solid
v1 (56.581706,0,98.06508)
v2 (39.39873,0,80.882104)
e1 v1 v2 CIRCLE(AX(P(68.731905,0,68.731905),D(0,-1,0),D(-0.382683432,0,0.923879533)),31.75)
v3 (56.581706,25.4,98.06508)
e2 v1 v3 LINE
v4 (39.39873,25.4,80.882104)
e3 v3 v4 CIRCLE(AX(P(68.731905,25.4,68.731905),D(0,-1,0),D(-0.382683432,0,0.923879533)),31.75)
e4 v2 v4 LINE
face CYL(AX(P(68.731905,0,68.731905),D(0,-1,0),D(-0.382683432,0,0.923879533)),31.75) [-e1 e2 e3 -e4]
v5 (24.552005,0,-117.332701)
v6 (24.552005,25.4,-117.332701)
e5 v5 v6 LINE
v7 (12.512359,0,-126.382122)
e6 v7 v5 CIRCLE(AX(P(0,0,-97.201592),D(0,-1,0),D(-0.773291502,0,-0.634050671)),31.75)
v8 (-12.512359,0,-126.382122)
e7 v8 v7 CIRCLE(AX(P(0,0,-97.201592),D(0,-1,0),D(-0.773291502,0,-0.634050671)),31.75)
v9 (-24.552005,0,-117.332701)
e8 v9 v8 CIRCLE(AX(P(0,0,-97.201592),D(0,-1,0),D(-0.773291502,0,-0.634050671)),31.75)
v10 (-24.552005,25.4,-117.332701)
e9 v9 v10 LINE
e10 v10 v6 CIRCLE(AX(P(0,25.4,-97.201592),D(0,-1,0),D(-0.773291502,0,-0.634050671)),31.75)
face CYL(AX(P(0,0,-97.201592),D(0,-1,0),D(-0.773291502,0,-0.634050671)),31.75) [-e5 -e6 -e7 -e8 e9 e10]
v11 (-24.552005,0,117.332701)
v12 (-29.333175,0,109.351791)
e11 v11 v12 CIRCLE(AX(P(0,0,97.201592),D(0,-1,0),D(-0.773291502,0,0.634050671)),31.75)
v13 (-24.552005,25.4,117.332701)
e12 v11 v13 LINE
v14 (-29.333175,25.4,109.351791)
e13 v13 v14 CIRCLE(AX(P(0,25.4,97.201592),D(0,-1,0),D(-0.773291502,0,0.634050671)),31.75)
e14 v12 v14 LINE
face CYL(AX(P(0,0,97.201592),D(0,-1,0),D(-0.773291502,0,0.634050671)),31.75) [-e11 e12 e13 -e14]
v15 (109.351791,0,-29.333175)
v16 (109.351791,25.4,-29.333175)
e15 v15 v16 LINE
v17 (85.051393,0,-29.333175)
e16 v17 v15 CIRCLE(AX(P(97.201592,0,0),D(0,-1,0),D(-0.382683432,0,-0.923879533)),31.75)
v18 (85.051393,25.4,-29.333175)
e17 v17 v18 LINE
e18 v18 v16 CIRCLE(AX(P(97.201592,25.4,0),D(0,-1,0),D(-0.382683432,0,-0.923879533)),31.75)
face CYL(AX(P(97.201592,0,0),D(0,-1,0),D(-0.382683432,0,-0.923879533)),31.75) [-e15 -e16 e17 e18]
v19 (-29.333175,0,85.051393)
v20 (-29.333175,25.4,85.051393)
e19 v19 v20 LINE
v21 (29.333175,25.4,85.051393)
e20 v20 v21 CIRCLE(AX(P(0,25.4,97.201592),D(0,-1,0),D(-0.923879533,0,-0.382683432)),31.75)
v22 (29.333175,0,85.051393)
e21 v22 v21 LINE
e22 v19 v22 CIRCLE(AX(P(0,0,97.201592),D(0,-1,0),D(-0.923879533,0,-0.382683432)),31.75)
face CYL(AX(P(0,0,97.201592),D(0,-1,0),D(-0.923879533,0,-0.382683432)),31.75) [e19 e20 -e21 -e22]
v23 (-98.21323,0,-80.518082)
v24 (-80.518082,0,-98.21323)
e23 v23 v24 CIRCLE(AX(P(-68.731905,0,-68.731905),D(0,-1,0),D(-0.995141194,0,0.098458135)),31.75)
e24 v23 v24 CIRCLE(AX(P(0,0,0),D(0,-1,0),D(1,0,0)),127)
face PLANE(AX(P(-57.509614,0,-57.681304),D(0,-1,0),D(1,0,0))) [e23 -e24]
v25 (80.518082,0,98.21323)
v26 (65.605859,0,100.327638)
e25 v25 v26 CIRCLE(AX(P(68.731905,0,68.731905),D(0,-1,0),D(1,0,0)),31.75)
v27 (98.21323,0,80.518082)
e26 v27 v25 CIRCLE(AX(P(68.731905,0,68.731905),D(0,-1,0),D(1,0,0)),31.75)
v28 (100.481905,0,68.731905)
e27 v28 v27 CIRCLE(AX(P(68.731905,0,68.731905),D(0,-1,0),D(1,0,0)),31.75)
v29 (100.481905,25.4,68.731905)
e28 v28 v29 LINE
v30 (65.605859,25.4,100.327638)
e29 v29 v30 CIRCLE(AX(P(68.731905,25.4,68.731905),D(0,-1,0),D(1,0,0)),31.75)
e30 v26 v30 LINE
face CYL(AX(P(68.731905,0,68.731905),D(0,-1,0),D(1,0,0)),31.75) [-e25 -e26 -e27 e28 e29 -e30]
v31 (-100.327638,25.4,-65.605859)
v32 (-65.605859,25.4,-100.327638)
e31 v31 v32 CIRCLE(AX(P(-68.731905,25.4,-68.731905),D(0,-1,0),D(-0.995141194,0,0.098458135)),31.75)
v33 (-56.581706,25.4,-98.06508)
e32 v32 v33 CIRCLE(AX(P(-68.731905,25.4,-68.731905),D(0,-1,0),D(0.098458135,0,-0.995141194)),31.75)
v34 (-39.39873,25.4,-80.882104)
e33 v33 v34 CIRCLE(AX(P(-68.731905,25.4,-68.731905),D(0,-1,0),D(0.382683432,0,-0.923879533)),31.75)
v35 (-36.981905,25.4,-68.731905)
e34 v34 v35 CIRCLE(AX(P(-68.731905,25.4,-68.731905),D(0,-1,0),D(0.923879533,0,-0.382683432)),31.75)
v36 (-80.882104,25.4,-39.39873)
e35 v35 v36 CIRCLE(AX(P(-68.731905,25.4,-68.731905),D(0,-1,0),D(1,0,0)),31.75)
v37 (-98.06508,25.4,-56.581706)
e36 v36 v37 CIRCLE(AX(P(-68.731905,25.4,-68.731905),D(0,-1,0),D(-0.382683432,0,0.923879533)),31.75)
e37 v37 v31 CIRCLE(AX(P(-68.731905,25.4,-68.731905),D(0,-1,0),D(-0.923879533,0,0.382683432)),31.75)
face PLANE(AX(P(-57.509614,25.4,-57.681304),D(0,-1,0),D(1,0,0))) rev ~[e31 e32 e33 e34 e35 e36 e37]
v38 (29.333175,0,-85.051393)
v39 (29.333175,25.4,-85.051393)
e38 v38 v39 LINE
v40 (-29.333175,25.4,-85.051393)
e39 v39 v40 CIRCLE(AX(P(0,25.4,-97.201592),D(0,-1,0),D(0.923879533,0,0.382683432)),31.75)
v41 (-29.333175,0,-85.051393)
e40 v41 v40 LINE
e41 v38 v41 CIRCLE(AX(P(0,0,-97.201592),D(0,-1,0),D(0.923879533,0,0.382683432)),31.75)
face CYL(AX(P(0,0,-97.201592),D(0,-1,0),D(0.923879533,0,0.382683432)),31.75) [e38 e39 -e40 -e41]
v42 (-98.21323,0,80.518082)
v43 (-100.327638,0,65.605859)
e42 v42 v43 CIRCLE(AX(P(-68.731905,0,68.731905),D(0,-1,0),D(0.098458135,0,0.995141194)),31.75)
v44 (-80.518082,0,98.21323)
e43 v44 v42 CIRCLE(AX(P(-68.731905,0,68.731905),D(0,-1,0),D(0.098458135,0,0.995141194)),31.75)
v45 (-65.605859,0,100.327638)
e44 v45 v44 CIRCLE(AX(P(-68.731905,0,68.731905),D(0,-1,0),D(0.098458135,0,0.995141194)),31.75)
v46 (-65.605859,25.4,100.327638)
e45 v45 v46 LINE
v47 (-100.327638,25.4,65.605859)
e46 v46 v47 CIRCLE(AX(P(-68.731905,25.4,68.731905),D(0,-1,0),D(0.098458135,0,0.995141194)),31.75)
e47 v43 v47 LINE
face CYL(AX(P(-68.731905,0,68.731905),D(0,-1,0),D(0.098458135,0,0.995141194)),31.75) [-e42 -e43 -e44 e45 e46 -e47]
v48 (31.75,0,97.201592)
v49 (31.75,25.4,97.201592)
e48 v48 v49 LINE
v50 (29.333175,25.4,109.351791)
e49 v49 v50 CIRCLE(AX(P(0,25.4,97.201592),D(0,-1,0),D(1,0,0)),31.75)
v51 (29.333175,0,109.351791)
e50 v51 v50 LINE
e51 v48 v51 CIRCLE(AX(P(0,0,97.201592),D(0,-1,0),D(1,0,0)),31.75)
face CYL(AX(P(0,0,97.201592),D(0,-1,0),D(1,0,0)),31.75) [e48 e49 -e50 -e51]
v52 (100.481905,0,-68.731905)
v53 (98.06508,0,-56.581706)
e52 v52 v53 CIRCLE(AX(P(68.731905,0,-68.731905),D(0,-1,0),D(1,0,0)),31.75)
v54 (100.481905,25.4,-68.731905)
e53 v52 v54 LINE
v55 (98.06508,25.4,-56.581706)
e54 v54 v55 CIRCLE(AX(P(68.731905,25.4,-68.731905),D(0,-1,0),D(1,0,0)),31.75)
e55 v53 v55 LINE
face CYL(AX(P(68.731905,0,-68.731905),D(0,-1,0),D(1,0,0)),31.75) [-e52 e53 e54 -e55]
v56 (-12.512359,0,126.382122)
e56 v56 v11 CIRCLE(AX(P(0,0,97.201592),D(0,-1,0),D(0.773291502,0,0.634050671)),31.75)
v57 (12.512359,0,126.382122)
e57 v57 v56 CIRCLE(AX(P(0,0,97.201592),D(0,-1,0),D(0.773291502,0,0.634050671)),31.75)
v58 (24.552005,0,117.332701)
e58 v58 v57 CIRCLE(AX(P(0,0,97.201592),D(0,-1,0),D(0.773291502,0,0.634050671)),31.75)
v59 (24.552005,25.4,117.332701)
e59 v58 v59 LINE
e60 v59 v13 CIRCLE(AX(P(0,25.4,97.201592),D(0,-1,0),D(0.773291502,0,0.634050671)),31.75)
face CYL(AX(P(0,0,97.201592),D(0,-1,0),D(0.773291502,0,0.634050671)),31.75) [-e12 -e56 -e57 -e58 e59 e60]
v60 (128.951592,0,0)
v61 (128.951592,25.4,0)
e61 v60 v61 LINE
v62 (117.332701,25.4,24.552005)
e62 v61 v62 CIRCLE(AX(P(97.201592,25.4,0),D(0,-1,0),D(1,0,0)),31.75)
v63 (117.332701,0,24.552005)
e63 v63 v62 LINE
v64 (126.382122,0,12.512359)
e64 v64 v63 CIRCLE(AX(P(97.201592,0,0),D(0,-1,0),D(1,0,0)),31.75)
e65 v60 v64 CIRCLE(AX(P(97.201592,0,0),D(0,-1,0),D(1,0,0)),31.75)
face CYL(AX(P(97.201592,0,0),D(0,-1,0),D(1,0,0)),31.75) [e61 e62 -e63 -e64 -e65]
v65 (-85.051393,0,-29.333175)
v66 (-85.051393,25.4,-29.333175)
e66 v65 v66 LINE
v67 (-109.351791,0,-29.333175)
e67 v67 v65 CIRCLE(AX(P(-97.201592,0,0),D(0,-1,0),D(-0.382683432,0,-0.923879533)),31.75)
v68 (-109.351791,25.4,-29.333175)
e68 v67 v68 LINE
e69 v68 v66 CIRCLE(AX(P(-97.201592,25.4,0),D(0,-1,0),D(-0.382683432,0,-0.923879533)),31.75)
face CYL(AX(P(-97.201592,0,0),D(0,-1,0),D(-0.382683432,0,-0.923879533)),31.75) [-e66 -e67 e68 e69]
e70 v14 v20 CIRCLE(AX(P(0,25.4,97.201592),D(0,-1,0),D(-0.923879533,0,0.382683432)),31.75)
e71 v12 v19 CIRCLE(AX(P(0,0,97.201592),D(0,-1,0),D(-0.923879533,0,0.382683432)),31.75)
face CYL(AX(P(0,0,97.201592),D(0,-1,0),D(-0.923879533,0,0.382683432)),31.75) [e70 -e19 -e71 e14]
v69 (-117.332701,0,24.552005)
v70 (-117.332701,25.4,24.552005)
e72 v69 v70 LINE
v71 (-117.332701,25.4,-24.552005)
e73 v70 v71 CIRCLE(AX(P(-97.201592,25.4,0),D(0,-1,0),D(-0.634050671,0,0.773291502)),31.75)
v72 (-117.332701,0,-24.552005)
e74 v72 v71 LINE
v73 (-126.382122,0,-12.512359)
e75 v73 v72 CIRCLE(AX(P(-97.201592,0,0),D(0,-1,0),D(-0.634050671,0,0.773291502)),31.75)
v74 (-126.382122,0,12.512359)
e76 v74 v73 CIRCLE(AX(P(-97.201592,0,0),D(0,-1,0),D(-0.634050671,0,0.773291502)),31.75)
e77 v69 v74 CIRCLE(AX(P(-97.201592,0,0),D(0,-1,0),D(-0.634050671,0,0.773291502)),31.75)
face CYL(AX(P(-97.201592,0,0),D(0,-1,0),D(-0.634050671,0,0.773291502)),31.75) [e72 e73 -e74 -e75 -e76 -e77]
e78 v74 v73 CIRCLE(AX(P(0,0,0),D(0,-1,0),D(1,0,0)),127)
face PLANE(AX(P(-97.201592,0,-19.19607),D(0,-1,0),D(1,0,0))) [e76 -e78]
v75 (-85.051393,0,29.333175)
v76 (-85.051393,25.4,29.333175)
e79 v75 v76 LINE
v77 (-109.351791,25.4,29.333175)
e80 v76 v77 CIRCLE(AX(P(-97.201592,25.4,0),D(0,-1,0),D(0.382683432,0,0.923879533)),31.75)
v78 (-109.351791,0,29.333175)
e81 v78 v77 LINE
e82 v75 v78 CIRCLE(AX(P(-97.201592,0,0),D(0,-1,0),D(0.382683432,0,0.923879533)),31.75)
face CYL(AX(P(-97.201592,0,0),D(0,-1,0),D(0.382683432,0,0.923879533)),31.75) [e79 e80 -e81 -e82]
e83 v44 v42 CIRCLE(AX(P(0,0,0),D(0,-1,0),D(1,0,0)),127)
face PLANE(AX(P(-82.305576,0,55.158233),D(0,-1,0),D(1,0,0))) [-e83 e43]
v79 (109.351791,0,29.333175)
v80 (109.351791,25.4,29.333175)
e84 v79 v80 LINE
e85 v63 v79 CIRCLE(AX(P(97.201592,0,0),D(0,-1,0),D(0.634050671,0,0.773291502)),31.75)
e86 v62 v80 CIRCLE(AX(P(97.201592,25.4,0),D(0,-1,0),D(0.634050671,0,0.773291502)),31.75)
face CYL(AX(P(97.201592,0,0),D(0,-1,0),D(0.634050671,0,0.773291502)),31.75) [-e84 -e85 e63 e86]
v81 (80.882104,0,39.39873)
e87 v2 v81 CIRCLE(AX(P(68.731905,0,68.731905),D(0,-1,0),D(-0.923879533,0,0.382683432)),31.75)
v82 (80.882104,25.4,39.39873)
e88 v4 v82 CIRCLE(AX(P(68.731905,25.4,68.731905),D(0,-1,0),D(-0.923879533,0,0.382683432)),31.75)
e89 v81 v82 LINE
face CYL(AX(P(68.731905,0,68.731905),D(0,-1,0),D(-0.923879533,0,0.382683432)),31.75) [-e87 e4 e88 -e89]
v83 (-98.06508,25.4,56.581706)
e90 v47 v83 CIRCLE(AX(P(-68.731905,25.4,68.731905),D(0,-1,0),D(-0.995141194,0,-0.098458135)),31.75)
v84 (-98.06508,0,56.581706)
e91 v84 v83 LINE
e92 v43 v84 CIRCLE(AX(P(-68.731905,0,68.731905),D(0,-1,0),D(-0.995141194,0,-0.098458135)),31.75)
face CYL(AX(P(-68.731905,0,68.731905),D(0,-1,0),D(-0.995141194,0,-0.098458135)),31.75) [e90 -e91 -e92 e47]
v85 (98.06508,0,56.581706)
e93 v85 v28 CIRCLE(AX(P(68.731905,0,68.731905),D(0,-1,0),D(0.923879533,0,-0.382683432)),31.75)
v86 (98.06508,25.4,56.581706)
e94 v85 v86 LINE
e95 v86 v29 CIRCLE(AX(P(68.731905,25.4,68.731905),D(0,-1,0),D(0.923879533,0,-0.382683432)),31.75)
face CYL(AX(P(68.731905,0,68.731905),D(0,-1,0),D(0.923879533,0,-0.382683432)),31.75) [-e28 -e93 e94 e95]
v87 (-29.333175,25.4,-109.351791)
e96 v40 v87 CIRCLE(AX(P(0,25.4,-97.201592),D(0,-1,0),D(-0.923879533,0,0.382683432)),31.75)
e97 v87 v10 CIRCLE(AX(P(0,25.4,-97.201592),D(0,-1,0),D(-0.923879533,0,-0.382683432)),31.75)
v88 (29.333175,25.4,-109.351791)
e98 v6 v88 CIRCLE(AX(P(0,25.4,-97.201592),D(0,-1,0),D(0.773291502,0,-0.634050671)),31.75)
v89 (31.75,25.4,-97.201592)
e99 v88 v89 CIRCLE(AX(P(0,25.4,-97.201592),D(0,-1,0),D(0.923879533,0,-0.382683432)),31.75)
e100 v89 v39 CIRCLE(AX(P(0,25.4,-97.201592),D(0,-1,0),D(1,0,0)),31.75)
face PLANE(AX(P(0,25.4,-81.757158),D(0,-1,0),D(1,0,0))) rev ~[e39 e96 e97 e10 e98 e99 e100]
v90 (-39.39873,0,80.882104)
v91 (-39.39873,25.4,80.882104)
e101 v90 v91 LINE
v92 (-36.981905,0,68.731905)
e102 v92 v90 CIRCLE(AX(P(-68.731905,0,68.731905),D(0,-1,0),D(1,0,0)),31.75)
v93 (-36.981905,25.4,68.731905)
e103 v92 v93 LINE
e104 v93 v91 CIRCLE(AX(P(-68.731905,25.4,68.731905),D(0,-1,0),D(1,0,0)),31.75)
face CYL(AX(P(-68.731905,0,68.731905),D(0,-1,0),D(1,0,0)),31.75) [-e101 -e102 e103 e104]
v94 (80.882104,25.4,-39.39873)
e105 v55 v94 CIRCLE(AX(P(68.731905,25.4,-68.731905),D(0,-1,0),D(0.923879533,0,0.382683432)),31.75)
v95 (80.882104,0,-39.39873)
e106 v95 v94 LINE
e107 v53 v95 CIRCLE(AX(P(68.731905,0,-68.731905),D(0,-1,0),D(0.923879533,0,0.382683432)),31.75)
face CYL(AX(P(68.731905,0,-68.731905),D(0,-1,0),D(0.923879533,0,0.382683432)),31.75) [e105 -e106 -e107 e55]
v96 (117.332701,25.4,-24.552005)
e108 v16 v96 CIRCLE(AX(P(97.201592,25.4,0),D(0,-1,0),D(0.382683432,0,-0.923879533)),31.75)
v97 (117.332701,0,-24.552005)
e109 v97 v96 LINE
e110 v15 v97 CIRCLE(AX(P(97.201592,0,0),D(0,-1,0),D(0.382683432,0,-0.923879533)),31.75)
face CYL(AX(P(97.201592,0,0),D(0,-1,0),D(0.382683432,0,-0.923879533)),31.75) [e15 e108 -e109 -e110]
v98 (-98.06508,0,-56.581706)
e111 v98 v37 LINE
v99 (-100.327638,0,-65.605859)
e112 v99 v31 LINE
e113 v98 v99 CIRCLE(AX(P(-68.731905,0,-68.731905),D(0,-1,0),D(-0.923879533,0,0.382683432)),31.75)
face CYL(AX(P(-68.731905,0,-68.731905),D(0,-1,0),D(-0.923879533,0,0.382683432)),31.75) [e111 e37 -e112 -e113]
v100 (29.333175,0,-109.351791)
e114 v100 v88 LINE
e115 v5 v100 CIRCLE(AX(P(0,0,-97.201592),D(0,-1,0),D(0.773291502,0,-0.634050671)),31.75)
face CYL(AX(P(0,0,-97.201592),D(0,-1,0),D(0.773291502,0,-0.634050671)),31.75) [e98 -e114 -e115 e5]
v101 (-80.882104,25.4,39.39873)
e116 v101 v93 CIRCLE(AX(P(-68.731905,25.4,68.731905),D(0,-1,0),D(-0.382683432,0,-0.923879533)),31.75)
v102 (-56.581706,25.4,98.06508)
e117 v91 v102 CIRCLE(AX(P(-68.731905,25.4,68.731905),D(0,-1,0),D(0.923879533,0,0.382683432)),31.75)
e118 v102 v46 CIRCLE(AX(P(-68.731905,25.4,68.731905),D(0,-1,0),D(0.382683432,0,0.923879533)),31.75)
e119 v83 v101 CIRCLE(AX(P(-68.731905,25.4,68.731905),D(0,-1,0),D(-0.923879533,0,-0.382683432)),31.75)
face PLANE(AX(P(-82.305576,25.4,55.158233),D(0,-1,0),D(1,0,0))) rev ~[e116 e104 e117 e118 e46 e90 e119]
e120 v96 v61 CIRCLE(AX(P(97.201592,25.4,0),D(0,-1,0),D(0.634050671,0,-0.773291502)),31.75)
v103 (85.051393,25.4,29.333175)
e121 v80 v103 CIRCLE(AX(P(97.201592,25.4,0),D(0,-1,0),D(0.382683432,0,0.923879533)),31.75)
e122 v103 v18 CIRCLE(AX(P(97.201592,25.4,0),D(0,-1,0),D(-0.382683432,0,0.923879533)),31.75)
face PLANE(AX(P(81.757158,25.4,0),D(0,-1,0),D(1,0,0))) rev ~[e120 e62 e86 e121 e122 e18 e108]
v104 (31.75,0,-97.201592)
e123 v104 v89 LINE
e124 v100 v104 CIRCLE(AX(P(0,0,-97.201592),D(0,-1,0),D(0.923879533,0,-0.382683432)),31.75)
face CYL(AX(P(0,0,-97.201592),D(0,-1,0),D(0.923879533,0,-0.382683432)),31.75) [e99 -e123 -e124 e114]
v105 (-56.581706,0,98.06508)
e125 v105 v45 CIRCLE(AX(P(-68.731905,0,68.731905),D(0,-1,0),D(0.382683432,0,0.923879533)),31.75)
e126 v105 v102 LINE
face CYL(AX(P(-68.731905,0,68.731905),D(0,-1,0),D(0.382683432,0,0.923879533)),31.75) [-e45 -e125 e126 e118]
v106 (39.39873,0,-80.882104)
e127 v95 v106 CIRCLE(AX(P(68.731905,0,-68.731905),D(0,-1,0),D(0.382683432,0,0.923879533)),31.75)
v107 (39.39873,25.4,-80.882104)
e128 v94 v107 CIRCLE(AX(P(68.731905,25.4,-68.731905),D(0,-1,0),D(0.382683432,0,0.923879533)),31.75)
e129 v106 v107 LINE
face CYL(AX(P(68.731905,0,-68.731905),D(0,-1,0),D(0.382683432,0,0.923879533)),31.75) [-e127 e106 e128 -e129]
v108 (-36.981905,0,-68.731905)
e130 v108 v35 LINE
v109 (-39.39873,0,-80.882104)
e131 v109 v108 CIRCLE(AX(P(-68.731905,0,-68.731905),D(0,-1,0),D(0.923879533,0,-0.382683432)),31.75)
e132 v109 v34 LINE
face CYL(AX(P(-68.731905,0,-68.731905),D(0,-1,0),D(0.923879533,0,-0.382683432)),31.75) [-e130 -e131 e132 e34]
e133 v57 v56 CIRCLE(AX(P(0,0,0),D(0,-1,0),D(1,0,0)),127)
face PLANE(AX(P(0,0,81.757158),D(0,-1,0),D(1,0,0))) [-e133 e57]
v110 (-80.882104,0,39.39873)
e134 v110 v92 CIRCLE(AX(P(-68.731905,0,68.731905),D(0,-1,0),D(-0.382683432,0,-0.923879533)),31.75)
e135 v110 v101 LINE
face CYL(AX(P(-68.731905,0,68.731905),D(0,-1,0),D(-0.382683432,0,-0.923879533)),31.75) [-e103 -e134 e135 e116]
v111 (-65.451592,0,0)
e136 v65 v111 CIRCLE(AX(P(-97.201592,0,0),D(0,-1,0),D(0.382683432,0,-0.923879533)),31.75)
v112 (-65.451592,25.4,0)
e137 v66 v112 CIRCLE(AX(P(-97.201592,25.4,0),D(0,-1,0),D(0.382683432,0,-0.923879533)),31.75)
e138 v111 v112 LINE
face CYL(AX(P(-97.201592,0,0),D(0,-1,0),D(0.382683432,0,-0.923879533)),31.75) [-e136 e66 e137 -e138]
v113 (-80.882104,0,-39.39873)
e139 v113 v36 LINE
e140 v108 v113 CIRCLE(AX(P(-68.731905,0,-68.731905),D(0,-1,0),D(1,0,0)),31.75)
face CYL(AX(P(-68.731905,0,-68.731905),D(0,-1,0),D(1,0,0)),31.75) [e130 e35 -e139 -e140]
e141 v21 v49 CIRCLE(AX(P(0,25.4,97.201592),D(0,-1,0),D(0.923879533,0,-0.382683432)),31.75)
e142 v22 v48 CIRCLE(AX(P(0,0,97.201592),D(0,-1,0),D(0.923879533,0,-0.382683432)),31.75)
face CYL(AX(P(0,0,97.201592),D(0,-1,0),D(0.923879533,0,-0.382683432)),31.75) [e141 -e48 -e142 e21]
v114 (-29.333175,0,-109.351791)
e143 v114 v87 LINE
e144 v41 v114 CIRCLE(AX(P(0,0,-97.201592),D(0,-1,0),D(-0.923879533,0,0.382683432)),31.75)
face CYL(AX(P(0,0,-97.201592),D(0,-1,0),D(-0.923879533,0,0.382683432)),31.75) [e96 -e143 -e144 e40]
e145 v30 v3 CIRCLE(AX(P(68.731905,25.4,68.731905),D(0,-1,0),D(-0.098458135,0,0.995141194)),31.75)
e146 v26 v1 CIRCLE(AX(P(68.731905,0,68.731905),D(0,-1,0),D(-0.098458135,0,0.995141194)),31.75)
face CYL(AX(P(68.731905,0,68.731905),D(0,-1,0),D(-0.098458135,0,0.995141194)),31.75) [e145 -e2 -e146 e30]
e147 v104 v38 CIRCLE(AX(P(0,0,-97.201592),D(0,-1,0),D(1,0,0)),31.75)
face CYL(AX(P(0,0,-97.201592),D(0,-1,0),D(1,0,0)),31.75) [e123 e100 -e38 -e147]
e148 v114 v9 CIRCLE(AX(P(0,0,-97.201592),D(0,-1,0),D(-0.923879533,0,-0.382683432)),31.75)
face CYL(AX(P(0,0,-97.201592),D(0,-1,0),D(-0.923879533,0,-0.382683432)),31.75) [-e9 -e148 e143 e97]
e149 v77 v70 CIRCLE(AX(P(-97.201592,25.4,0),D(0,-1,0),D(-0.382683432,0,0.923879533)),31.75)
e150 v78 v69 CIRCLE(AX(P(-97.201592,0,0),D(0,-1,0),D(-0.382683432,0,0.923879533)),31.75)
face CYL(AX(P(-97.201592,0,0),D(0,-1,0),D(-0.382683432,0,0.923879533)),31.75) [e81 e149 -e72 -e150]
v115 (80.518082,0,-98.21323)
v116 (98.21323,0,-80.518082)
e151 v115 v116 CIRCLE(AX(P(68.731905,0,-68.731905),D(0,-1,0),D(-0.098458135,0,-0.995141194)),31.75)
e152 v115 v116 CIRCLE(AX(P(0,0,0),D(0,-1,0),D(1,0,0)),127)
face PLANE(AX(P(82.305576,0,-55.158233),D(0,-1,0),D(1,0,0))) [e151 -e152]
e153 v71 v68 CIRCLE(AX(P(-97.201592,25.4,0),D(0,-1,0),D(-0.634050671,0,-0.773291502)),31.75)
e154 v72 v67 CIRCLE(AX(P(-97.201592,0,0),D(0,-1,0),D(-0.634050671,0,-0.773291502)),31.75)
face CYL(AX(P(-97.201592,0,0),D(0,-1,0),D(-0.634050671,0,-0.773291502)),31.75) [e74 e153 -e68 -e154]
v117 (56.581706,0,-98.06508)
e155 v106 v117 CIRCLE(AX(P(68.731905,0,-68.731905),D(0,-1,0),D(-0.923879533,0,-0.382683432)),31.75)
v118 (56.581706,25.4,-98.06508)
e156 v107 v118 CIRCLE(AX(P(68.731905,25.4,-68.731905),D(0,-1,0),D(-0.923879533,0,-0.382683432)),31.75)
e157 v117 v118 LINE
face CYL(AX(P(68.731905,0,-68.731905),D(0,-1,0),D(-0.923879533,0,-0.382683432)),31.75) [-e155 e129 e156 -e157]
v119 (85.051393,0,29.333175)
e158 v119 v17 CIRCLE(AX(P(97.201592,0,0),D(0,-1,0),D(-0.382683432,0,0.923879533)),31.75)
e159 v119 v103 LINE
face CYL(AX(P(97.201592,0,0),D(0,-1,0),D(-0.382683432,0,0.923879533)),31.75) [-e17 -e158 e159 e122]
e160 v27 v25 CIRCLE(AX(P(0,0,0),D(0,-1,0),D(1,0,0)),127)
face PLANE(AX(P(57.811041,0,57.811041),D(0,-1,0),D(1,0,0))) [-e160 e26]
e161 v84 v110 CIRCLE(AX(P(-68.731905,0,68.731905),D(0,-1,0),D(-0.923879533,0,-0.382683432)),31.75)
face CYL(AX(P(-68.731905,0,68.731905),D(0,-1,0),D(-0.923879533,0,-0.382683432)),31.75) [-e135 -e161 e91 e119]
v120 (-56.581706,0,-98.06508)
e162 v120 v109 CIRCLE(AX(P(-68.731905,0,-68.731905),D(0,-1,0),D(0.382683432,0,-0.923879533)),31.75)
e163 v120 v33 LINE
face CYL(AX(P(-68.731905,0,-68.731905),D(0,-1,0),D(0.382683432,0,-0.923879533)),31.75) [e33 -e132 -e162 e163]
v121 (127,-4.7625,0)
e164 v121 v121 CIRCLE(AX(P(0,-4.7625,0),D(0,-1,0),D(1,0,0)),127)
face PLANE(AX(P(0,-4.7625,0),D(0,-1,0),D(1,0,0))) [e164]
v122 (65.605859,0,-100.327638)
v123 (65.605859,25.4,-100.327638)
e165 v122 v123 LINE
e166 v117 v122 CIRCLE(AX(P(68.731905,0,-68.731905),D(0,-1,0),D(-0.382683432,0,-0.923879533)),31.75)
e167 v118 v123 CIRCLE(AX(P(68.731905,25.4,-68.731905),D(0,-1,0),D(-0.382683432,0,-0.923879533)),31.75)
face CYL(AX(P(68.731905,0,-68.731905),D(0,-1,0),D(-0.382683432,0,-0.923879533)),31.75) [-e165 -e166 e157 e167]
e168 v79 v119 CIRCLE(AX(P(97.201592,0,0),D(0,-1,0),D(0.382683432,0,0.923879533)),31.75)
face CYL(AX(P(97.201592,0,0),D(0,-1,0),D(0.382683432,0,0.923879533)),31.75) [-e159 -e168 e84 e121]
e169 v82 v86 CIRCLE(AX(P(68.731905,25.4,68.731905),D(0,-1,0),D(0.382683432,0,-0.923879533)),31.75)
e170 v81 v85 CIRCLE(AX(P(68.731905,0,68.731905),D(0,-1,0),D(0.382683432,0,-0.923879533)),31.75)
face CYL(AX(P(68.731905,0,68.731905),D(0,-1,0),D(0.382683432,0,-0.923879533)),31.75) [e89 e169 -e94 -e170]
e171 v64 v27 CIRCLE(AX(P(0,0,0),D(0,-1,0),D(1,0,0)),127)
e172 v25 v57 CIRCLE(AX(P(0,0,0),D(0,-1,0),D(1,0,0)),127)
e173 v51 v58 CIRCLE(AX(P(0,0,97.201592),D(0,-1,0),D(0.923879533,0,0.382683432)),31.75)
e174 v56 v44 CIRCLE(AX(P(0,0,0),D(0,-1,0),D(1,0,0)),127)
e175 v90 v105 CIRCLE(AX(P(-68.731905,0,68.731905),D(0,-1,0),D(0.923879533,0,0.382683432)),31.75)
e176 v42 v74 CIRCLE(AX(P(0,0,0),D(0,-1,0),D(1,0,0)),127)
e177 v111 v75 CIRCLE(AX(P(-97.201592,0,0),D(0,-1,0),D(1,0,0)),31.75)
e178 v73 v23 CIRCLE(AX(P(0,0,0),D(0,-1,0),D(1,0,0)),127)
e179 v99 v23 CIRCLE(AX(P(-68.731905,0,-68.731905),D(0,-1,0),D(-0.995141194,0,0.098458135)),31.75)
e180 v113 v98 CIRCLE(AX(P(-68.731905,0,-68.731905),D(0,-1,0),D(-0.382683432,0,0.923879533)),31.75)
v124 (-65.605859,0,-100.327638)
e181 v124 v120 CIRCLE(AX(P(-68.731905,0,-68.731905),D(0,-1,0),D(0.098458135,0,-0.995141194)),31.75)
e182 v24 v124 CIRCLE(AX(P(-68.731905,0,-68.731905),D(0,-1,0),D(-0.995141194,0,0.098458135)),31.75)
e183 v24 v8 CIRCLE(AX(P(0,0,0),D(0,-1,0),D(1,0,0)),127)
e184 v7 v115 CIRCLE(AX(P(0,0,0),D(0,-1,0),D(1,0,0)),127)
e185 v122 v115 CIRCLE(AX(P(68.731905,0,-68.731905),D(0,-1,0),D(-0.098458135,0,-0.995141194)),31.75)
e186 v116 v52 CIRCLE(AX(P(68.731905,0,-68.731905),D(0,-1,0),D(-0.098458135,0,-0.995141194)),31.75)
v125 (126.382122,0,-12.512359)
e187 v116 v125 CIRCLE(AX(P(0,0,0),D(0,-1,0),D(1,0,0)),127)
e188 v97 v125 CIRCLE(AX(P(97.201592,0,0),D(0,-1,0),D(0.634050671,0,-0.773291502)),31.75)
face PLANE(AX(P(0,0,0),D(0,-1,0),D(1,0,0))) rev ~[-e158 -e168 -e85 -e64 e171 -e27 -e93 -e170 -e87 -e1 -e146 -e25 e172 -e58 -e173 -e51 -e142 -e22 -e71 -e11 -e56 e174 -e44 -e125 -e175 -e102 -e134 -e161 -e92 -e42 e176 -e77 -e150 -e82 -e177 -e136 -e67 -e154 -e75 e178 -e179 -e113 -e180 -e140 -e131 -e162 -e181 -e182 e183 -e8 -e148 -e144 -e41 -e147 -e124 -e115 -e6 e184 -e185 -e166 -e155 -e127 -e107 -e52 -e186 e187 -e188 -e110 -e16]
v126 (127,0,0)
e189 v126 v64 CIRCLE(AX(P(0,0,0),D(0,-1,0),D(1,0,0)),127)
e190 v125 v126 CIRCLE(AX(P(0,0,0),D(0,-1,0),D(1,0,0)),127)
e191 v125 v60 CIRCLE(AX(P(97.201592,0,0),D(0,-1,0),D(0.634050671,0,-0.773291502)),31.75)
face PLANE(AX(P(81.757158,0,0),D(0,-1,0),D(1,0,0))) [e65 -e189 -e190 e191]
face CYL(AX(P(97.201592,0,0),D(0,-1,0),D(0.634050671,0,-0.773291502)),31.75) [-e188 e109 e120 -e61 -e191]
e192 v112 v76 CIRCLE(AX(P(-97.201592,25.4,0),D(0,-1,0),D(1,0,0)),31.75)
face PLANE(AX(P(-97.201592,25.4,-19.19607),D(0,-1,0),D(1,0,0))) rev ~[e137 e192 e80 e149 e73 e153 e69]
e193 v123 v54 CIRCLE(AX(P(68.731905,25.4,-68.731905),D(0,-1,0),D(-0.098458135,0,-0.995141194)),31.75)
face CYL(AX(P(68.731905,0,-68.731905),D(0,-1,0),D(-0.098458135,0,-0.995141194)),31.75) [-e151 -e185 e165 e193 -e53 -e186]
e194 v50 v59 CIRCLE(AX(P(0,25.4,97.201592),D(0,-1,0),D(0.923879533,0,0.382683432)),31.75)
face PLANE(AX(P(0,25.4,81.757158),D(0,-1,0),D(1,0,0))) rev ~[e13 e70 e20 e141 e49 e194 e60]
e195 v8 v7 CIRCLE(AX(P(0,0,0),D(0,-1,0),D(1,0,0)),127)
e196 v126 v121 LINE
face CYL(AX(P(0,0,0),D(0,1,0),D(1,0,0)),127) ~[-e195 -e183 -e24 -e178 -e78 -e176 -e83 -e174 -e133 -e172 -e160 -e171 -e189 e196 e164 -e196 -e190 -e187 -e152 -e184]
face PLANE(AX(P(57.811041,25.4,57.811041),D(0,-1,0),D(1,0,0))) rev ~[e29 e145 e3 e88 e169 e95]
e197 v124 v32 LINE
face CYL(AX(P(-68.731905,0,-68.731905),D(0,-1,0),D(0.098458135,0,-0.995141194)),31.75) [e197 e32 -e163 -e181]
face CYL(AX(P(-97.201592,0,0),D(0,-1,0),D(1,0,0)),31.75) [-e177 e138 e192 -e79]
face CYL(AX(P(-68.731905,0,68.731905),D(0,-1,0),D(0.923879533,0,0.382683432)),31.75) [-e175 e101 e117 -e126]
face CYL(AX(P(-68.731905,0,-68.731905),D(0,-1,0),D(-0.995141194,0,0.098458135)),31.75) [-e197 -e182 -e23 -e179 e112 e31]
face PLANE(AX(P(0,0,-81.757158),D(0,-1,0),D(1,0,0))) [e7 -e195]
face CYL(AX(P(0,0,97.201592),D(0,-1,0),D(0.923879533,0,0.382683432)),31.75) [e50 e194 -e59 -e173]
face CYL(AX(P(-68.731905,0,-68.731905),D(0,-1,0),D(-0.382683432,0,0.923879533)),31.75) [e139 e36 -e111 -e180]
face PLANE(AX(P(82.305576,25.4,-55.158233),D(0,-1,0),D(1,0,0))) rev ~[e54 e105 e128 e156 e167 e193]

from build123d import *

# Parameters (mm, degrees)
F0_R     = 127
F1_DEPTH = 4.7625
F3_DEPTH = 25.4


with BuildPart() as f1:
    # F0 (on Front) → F1 (new body)
    with BuildSketch(Plane.XZ):
        Circle(F0_R)
    extrude(amount=F1_DEPTH)

    # F2 (on Front) → F3 (join)
    with BuildSketch(Plane.XZ):
        with BuildLine():
            ThreePointArc((-36.9819047186, -68.7319047186), (-51.0925498202, -42.332744528), (-80.8821036962, -39.3987295613))
            Line((-80.8821036962, -39.3987295613), (-68.7319047186, -68.7319047186))
            Line((-68.7319047186, -68.7319047186), (-39.3987295613, -80.8821036962))
            ThreePointArc((-39.3987295613, -80.8821036962), (-37.5919720658, -74.9260224426), (-36.9819047186, -68.7319047186))
        make_face()
        with BuildLine():
            Line((-39.3987295613, -80.8821036962), (-68.7319047186, -68.7319047186))
            Line((-68.7319047186, -68.7319047186), (-56.581705741, -98.0650798758))
            ThreePointArc((-56.581705741, -98.0650798758), (-46.2812644159, -91.1825450212), (-39.3987295613, -80.8821036962))
        make_face()
        with BuildLine():
            ThreePointArc((-80.8821036962, -39.3987295613), (-91.1825450212, -46.2812644159), (-98.0650798758, -56.581705741))
            Line((-98.0650798758, -56.581705741), (-68.7319047186, -68.7319047186))
            Line((-68.7319047186, -68.7319047186), (-80.8821036962, -39.3987295613))
        make_face()
        with BuildLine():
            ThreePointArc((-98.0650798758, -56.581705741), (-99.5286869284, -61.0104601958), (-100.3276376212, -65.6058589181))
            Line((-100.3276376212, -65.6058589181), (-65.6058589181, -100.3276376212))
            ThreePointArc((-65.6058589181, -100.3276376212), (-61.0104601958, -99.5286869284), (-56.581705741, -98.0650798758))
            Line((-56.581705741, -98.0650798758), (-68.7319047186, -68.7319047186))
            Line((-68.7319047186, -68.7319047186), (-98.0650798758, -56.581705741))
        make_face()
        with BuildLine():
            Line((-65.6058589181, -100.3276376212), (-100.3276376212, -65.6058589181))
            ThreePointArc((-100.3276376212, -65.6058589181), (-91.1825450212, -91.1825450212), (-65.6058589181, -100.3276376212))
        make_face()
        with BuildLine():
            Line((-85.0513928431, -29.3331751572), (-97.2015918207, 0))
            Line((-97.2015918207, 0), (-109.3517907983, -29.3331751572))
            ThreePointArc((-109.3517907983, -29.3331751572), (-97.2015918207, -31.75), (-85.0513928431, -29.3331751572))
        make_face()
        with BuildLine():
            Line((-85.0513928431, 29.3331751572), (-97.2015918207, 0))
            Line((-97.2015918207, 0), (-85.0513928431, -29.3331751572))
            ThreePointArc((-85.0513928431, -29.3331751572), (-70.8024316301, -17.6393548984), (-65.4515918207, 0))
            ThreePointArc((-65.4515918207, 0), (-70.8024316301, 17.6393548984), (-85.0513928431, 29.3331751572))
        make_face()
        with BuildLine():
            ThreePointArc((-85.0513928431, 29.3331751572), (-97.2015918207, 31.75), (-109.3517907983, 29.3331751572))
            Line((-109.3517907983, 29.3331751572), (-97.2015918207, 0))
            Line((-97.2015918207, 0), (-85.0513928431, 29.3331751572))
        make_face()
        with BuildLine():
            ThreePointArc((-109.3517907983, 29.3331751572), (-113.5183195775, 27.2364993219), (-117.3327006289, 24.5520051758))
            Line((-117.3327006289, 24.5520051758), (-117.3327006289, -24.5520051758))
            ThreePointArc((-117.3327006289, -24.5520051758), (-113.5183195775, -27.2364993219), (-109.3517907983, -29.3331751572))
            Line((-109.3517907983, -29.3331751572), (-97.2015918207, 0))
            Line((-97.2015918207, 0), (-109.3517907983, 29.3331751572))
        make_face()
        with BuildLine():
            Line((-117.3327006289, -24.5520051758), (-117.3327006289, 24.5520051758))
            ThreePointArc((-117.3327006289, 24.5520051758), (-128.9515918207, 0), (-117.3327006289, -24.5520051758))
        make_face()
        with BuildLine():
            Line((-68.7319047186, 68.7319047186), (-98.0650798758, 56.581705741))
            ThreePointArc((-98.0650798758, 56.581705741), (-91.1825450212, 46.2812644159), (-80.8821036962, 39.3987295613))
            Line((-80.8821036962, 39.3987295613), (-68.7319047186, 68.7319047186))
        make_face()
        with BuildLine():
            Line((-39.3987295613, 80.8821036962), (-68.7319047186, 68.7319047186))
            Line((-68.7319047186, 68.7319047186), (-80.8821036962, 39.3987295613))
            ThreePointArc((-80.8821036962, 39.3987295613), (-51.0925498202, 42.332744528), (-36.9819047186, 68.7319047186))
            ThreePointArc((-36.9819047186, 68.7319047186), (-37.5919720658, 74.9260224426), (-39.3987295613, 80.8821036962))
        make_face()
        with BuildLine():
            Line((-56.581705741, 98.0650798758), (-68.7319047186, 68.7319047186))
            Line((-68.7319047186, 68.7319047186), (-39.3987295613, 80.8821036962))
            ThreePointArc((-39.3987295613, 80.8821036962), (-46.2812644159, 91.1825450212), (-56.581705741, 98.0650798758))
        make_face()
        with BuildLine():
            Line((-65.6058589181, 100.3276376212), (-100.3276376212, 65.6058589181))
            ThreePointArc((-100.3276376212, 65.6058589181), (-99.5286869284, 61.0104601958), (-98.0650798758, 56.581705741))
            Line((-98.0650798758, 56.581705741), (-68.7319047186, 68.7319047186))
            Line((-68.7319047186, 68.7319047186), (-56.581705741, 98.0650798758))
            ThreePointArc((-56.581705741, 98.0650798758), (-61.0104601958, 99.5286869284), (-65.6058589181, 100.3276376212))
        make_face()
        with BuildLine():
            ThreePointArc((-65.6058589181, 100.3276376212), (-91.1825450212, 91.1825450212), (-100.3276376212, 65.6058589181))
            Line((-100.3276376212, 65.6058589181), (-65.6058589181, 100.3276376212))
        make_face()
        with BuildLine():
            Line((0, 97.2015918207), (-29.3331751572, 85.0513928431))
            ThreePointArc((-29.3331751572, 85.0513928431), (0, 65.4515918207), (29.3331751572, 85.0513928431))
            Line((29.3331751572, 85.0513928431), (0, 97.2015918207))
        make_face()
        with BuildLine():
            Line((0, 97.2015918207), (-29.3331751572, 109.3517907983))
            ThreePointArc((-29.3331751572, 109.3517907983), (-31.75, 97.2015918207), (-29.3331751572, 85.0513928431))
            Line((-29.3331751572, 85.0513928431), (0, 97.2015918207))
        make_face()
        with BuildLine():
            Line((29.3331751572, 109.3517907983), (0, 97.2015918207))
            Line((0, 97.2015918207), (29.3331751572, 85.0513928431))
            ThreePointArc((29.3331751572, 85.0513928431), (31.1399326528, 91.0074740967), (31.75, 97.2015918207))
            ThreePointArc((31.75, 97.2015918207), (31.1399326528, 103.3957095447), (29.3331751572, 109.3517907983))
        make_face()
        with BuildLine():
            Line((24.5520051758, 117.3327006289), (-24.5520051758, 117.3327006289))
            ThreePointArc((-24.5520051758, 117.3327006289), (-27.2364993219, 113.5183195775), (-29.3331751572, 109.3517907983))
            Line((-29.3331751572, 109.3517907983), (0, 97.2015918207))
            Line((0, 97.2015918207), (29.3331751572, 109.3517907983))
            ThreePointArc((29.3331751572, 109.3517907983), (27.2364993219, 113.5183195775), (24.5520051758, 117.3327006289))
        make_face()
        with BuildLine():
            ThreePointArc((24.5520051758, 117.3327006289), (0, 128.9515918207), (-24.5520051758, 117.3327006289))
            Line((-24.5520051758, 117.3327006289), (24.5520051758, 117.3327006289))
        make_face()
        with BuildLine():
            Line((68.7319047186, 68.7319047186), (39.3987295613, 80.8821036962))
            ThreePointArc((39.3987295613, 80.8821036962), (46.2812644159, 46.2812644159), (80.8821036962, 39.3987295613))
            Line((80.8821036962, 39.3987295613), (68.7319047186, 68.7319047186))
        make_face()
        with BuildLine():
            ThreePointArc((56.581705741, 98.0650798758), (46.2812644159, 91.1825450212), (39.3987295613, 80.8821036962))
            Line((39.3987295613, 80.8821036962), (68.7319047186, 68.7319047186))
            Line((68.7319047186, 68.7319047186), (56.581705741, 98.0650798758))
        make_face()
        with BuildLine():
            Line((100.3276376212, 65.6058589181), (65.6058589181, 100.3276376212))
            ThreePointArc((65.6058589181, 100.3276376212), (61.0104601958, 99.5286869284), (56.581705741, 98.0650798758))
            Line((56.581705741, 98.0650798758), (68.7319047186, 68.7319047186))
            Line((68.7319047186, 68.7319047186), (98.0650798758, 56.581705741))
            ThreePointArc((98.0650798758, 56.581705741), (99.5286869284, 61.0104601958), (100.3276376212, 65.6058589181))
        make_face()
        with BuildLine():
            Line((98.0650798758, 56.581705741), (68.7319047186, 68.7319047186))
            Line((68.7319047186, 68.7319047186), (80.8821036962, 39.3987295613))
            ThreePointArc((80.8821036962, 39.3987295613), (91.1825450212, 46.2812644159), (98.0650798758, 56.581705741))
        make_face()
        with BuildLine():
            ThreePointArc((100.4819047186, 68.7319047186), (90.04868855, 92.2618266709), (65.6058589181, 100.3276376212))
            Line((65.6058589181, 100.3276376212), (100.3276376212, 65.6058589181))
            ThreePointArc((100.3276376212, 65.6058589181), (100.4433144922, 67.1669797456), (100.4819047186, 68.7319047186))
        make_face()
        with BuildLine():
            Line((97.2015918207, 0), (85.0513928431, 29.3331751572))
            ThreePointArc((85.0513928431, 29.3331751572), (65.4515918207, 0), (85.0513928431, -29.3331751572))
            Line((85.0513928431, -29.3331751572), (97.2015918207, 0))
        make_face()
        with BuildLine():
            Line((109.3517907983, 29.3331751572), (97.2015918207, 0))
            Line((97.2015918207, 0), (109.3517907983, -29.3331751572))
            ThreePointArc((109.3517907983, -29.3331751572), (113.5183195775, -27.2364993219), (117.3327006289, -24.5520051758))
            Line((117.3327006289, -24.5520051758), (117.3327006289, 24.5520051758))
            ThreePointArc((117.3327006289, 24.5520051758), (113.5183195775, 27.2364993219), (109.3517907983, 29.3331751572))
        make_face()
        with BuildLine():
            ThreePointArc((109.3517907983, 29.3331751572), (97.2015918207, 31.75), (85.0513928431, 29.3331751572))
            Line((85.0513928431, 29.3331751572), (97.2015918207, 0))
            Line((97.2015918207, 0), (109.3517907983, 29.3331751572))
        make_face()
        with BuildLine():
            Line((109.3517907983, -29.3331751572), (97.2015918207, 0))
            Line((97.2015918207, 0), (85.0513928431, -29.3331751572))
            ThreePointArc((85.0513928431, -29.3331751572), (97.2015918207, -31.75), (109.3517907983, -29.3331751572))
        make_face()
        with BuildLine():
            ThreePointArc((128.9515918207, 0), (125.9002433976, 13.5812332897), (117.3327006289, 24.5520051758))
            Line((117.3327006289, 24.5520051758), (117.3327006289, -24.5520051758))
            ThreePointArc((117.3327006289, -24.5520051758), (125.9002433976, -13.5812332897), (128.9515918207, 0))
        make_face()
        with BuildLine():
            Line((80.8821036962, -39.3987295613), (68.7319047186, -68.7319047186))
            Line((68.7319047186, -68.7319047186), (98.0650798758, -56.581705741))
            ThreePointArc((98.0650798758, -56.581705741), (91.1825450212, -46.2812644159), (80.8821036962, -39.3987295613))
        make_face()
        with BuildLine():
            ThreePointArc((80.8821036962, -39.3987295613), (46.2812644159, -46.2812644159), (39.3987295613, -80.8821036962))
            Line((39.3987295613, -80.8821036962), (68.7319047186, -68.7319047186))
            Line((68.7319047186, -68.7319047186), (80.8821036962, -39.3987295613))
        make_face()
        with BuildLine():
            Line((68.7319047186, -68.7319047186), (39.3987295613, -80.8821036962))
            ThreePointArc((39.3987295613, -80.8821036962), (46.2812644159, -91.1825450212), (56.581705741, -98.0650798758))
            Line((56.581705741, -98.0650798758), (68.7319047186, -68.7319047186))
        make_face()
        with BuildLine():
            ThreePointArc((56.581705741, -98.0650798758), (61.0104601958, -99.5286869284), (65.6058589181, -100.3276376212))
            Line((65.6058589181, -100.3276376212), (100.3276376212, -65.6058589181))
            ThreePointArc((100.3276376212, -65.6058589181), (99.5286869284, -61.0104601958), (98.0650798758, -56.581705741))
            Line((98.0650798758, -56.581705741), (68.7319047186, -68.7319047186))
            Line((68.7319047186, -68.7319047186), (56.581705741, -98.0650798758))
        make_face()
        with BuildLine():
            Line((100.3276376212, -65.6058589181), (65.6058589181, -100.3276376212))
            ThreePointArc((65.6058589181, -100.3276376212), (90.04868855, -92.2618266709), (100.4819047186, -68.7319047186))
            ThreePointArc((100.4819047186, -68.7319047186), (100.4433144922, -67.1669797456), (100.3276376212, -65.6058589181))
        make_face()
        with BuildLine():
            ThreePointArc((29.3331751572, -85.0513928431), (0, -65.4515918207), (-29.3331751572, -85.0513928431))
            Line((-29.3331751572, -85.0513928431), (0, -97.2015918207))
            Line((0, -97.2015918207), (29.3331751572, -85.0513928431))
        make_face()
        with BuildLine():
            Line((29.3331751572, -85.0513928431), (0, -97.2015918207))
            Line((0, -97.2015918207), (29.3331751572, -109.3517907983))
            ThreePointArc((29.3331751572, -109.3517907983), (31.1399326528, -103.3957095447), (31.75, -97.2015918207))
            ThreePointArc((31.75, -97.2015918207), (31.1399326528, -91.0074740967), (29.3331751572, -85.0513928431))
        make_face()
        with BuildLine():
            ThreePointArc((-29.3331751572, -85.0513928431), (-31.75, -97.2015918207), (-29.3331751572, -109.3517907983))
            Line((-29.3331751572, -109.3517907983), (0, -97.2015918207))
            Line((0, -97.2015918207), (-29.3331751572, -85.0513928431))
        make_face()
        with BuildLine():
            ThreePointArc((-29.3331751572, -109.3517907983), (-27.2364993219, -113.5183195775), (-24.5520051758, -117.3327006289))
            Line((-24.5520051758, -117.3327006289), (24.5520051758, -117.3327006289))
            ThreePointArc((24.5520051758, -117.3327006289), (27.2364993219, -113.5183195775), (29.3331751572, -109.3517907983))
            Line((29.3331751572, -109.3517907983), (0, -97.2015918207))
            Line((0, -97.2015918207), (-29.3331751572, -109.3517907983))
        make_face()
        with BuildLine():
            Line((24.5520051758, -117.3327006289), (-24.5520051758, -117.3327006289))
            ThreePointArc((-24.5520051758, -117.3327006289), (0, -128.9515918207), (24.5520051758, -117.3327006289))
        make_face()
    extrude(amount=-F3_DEPTH)


solid = f1.part
